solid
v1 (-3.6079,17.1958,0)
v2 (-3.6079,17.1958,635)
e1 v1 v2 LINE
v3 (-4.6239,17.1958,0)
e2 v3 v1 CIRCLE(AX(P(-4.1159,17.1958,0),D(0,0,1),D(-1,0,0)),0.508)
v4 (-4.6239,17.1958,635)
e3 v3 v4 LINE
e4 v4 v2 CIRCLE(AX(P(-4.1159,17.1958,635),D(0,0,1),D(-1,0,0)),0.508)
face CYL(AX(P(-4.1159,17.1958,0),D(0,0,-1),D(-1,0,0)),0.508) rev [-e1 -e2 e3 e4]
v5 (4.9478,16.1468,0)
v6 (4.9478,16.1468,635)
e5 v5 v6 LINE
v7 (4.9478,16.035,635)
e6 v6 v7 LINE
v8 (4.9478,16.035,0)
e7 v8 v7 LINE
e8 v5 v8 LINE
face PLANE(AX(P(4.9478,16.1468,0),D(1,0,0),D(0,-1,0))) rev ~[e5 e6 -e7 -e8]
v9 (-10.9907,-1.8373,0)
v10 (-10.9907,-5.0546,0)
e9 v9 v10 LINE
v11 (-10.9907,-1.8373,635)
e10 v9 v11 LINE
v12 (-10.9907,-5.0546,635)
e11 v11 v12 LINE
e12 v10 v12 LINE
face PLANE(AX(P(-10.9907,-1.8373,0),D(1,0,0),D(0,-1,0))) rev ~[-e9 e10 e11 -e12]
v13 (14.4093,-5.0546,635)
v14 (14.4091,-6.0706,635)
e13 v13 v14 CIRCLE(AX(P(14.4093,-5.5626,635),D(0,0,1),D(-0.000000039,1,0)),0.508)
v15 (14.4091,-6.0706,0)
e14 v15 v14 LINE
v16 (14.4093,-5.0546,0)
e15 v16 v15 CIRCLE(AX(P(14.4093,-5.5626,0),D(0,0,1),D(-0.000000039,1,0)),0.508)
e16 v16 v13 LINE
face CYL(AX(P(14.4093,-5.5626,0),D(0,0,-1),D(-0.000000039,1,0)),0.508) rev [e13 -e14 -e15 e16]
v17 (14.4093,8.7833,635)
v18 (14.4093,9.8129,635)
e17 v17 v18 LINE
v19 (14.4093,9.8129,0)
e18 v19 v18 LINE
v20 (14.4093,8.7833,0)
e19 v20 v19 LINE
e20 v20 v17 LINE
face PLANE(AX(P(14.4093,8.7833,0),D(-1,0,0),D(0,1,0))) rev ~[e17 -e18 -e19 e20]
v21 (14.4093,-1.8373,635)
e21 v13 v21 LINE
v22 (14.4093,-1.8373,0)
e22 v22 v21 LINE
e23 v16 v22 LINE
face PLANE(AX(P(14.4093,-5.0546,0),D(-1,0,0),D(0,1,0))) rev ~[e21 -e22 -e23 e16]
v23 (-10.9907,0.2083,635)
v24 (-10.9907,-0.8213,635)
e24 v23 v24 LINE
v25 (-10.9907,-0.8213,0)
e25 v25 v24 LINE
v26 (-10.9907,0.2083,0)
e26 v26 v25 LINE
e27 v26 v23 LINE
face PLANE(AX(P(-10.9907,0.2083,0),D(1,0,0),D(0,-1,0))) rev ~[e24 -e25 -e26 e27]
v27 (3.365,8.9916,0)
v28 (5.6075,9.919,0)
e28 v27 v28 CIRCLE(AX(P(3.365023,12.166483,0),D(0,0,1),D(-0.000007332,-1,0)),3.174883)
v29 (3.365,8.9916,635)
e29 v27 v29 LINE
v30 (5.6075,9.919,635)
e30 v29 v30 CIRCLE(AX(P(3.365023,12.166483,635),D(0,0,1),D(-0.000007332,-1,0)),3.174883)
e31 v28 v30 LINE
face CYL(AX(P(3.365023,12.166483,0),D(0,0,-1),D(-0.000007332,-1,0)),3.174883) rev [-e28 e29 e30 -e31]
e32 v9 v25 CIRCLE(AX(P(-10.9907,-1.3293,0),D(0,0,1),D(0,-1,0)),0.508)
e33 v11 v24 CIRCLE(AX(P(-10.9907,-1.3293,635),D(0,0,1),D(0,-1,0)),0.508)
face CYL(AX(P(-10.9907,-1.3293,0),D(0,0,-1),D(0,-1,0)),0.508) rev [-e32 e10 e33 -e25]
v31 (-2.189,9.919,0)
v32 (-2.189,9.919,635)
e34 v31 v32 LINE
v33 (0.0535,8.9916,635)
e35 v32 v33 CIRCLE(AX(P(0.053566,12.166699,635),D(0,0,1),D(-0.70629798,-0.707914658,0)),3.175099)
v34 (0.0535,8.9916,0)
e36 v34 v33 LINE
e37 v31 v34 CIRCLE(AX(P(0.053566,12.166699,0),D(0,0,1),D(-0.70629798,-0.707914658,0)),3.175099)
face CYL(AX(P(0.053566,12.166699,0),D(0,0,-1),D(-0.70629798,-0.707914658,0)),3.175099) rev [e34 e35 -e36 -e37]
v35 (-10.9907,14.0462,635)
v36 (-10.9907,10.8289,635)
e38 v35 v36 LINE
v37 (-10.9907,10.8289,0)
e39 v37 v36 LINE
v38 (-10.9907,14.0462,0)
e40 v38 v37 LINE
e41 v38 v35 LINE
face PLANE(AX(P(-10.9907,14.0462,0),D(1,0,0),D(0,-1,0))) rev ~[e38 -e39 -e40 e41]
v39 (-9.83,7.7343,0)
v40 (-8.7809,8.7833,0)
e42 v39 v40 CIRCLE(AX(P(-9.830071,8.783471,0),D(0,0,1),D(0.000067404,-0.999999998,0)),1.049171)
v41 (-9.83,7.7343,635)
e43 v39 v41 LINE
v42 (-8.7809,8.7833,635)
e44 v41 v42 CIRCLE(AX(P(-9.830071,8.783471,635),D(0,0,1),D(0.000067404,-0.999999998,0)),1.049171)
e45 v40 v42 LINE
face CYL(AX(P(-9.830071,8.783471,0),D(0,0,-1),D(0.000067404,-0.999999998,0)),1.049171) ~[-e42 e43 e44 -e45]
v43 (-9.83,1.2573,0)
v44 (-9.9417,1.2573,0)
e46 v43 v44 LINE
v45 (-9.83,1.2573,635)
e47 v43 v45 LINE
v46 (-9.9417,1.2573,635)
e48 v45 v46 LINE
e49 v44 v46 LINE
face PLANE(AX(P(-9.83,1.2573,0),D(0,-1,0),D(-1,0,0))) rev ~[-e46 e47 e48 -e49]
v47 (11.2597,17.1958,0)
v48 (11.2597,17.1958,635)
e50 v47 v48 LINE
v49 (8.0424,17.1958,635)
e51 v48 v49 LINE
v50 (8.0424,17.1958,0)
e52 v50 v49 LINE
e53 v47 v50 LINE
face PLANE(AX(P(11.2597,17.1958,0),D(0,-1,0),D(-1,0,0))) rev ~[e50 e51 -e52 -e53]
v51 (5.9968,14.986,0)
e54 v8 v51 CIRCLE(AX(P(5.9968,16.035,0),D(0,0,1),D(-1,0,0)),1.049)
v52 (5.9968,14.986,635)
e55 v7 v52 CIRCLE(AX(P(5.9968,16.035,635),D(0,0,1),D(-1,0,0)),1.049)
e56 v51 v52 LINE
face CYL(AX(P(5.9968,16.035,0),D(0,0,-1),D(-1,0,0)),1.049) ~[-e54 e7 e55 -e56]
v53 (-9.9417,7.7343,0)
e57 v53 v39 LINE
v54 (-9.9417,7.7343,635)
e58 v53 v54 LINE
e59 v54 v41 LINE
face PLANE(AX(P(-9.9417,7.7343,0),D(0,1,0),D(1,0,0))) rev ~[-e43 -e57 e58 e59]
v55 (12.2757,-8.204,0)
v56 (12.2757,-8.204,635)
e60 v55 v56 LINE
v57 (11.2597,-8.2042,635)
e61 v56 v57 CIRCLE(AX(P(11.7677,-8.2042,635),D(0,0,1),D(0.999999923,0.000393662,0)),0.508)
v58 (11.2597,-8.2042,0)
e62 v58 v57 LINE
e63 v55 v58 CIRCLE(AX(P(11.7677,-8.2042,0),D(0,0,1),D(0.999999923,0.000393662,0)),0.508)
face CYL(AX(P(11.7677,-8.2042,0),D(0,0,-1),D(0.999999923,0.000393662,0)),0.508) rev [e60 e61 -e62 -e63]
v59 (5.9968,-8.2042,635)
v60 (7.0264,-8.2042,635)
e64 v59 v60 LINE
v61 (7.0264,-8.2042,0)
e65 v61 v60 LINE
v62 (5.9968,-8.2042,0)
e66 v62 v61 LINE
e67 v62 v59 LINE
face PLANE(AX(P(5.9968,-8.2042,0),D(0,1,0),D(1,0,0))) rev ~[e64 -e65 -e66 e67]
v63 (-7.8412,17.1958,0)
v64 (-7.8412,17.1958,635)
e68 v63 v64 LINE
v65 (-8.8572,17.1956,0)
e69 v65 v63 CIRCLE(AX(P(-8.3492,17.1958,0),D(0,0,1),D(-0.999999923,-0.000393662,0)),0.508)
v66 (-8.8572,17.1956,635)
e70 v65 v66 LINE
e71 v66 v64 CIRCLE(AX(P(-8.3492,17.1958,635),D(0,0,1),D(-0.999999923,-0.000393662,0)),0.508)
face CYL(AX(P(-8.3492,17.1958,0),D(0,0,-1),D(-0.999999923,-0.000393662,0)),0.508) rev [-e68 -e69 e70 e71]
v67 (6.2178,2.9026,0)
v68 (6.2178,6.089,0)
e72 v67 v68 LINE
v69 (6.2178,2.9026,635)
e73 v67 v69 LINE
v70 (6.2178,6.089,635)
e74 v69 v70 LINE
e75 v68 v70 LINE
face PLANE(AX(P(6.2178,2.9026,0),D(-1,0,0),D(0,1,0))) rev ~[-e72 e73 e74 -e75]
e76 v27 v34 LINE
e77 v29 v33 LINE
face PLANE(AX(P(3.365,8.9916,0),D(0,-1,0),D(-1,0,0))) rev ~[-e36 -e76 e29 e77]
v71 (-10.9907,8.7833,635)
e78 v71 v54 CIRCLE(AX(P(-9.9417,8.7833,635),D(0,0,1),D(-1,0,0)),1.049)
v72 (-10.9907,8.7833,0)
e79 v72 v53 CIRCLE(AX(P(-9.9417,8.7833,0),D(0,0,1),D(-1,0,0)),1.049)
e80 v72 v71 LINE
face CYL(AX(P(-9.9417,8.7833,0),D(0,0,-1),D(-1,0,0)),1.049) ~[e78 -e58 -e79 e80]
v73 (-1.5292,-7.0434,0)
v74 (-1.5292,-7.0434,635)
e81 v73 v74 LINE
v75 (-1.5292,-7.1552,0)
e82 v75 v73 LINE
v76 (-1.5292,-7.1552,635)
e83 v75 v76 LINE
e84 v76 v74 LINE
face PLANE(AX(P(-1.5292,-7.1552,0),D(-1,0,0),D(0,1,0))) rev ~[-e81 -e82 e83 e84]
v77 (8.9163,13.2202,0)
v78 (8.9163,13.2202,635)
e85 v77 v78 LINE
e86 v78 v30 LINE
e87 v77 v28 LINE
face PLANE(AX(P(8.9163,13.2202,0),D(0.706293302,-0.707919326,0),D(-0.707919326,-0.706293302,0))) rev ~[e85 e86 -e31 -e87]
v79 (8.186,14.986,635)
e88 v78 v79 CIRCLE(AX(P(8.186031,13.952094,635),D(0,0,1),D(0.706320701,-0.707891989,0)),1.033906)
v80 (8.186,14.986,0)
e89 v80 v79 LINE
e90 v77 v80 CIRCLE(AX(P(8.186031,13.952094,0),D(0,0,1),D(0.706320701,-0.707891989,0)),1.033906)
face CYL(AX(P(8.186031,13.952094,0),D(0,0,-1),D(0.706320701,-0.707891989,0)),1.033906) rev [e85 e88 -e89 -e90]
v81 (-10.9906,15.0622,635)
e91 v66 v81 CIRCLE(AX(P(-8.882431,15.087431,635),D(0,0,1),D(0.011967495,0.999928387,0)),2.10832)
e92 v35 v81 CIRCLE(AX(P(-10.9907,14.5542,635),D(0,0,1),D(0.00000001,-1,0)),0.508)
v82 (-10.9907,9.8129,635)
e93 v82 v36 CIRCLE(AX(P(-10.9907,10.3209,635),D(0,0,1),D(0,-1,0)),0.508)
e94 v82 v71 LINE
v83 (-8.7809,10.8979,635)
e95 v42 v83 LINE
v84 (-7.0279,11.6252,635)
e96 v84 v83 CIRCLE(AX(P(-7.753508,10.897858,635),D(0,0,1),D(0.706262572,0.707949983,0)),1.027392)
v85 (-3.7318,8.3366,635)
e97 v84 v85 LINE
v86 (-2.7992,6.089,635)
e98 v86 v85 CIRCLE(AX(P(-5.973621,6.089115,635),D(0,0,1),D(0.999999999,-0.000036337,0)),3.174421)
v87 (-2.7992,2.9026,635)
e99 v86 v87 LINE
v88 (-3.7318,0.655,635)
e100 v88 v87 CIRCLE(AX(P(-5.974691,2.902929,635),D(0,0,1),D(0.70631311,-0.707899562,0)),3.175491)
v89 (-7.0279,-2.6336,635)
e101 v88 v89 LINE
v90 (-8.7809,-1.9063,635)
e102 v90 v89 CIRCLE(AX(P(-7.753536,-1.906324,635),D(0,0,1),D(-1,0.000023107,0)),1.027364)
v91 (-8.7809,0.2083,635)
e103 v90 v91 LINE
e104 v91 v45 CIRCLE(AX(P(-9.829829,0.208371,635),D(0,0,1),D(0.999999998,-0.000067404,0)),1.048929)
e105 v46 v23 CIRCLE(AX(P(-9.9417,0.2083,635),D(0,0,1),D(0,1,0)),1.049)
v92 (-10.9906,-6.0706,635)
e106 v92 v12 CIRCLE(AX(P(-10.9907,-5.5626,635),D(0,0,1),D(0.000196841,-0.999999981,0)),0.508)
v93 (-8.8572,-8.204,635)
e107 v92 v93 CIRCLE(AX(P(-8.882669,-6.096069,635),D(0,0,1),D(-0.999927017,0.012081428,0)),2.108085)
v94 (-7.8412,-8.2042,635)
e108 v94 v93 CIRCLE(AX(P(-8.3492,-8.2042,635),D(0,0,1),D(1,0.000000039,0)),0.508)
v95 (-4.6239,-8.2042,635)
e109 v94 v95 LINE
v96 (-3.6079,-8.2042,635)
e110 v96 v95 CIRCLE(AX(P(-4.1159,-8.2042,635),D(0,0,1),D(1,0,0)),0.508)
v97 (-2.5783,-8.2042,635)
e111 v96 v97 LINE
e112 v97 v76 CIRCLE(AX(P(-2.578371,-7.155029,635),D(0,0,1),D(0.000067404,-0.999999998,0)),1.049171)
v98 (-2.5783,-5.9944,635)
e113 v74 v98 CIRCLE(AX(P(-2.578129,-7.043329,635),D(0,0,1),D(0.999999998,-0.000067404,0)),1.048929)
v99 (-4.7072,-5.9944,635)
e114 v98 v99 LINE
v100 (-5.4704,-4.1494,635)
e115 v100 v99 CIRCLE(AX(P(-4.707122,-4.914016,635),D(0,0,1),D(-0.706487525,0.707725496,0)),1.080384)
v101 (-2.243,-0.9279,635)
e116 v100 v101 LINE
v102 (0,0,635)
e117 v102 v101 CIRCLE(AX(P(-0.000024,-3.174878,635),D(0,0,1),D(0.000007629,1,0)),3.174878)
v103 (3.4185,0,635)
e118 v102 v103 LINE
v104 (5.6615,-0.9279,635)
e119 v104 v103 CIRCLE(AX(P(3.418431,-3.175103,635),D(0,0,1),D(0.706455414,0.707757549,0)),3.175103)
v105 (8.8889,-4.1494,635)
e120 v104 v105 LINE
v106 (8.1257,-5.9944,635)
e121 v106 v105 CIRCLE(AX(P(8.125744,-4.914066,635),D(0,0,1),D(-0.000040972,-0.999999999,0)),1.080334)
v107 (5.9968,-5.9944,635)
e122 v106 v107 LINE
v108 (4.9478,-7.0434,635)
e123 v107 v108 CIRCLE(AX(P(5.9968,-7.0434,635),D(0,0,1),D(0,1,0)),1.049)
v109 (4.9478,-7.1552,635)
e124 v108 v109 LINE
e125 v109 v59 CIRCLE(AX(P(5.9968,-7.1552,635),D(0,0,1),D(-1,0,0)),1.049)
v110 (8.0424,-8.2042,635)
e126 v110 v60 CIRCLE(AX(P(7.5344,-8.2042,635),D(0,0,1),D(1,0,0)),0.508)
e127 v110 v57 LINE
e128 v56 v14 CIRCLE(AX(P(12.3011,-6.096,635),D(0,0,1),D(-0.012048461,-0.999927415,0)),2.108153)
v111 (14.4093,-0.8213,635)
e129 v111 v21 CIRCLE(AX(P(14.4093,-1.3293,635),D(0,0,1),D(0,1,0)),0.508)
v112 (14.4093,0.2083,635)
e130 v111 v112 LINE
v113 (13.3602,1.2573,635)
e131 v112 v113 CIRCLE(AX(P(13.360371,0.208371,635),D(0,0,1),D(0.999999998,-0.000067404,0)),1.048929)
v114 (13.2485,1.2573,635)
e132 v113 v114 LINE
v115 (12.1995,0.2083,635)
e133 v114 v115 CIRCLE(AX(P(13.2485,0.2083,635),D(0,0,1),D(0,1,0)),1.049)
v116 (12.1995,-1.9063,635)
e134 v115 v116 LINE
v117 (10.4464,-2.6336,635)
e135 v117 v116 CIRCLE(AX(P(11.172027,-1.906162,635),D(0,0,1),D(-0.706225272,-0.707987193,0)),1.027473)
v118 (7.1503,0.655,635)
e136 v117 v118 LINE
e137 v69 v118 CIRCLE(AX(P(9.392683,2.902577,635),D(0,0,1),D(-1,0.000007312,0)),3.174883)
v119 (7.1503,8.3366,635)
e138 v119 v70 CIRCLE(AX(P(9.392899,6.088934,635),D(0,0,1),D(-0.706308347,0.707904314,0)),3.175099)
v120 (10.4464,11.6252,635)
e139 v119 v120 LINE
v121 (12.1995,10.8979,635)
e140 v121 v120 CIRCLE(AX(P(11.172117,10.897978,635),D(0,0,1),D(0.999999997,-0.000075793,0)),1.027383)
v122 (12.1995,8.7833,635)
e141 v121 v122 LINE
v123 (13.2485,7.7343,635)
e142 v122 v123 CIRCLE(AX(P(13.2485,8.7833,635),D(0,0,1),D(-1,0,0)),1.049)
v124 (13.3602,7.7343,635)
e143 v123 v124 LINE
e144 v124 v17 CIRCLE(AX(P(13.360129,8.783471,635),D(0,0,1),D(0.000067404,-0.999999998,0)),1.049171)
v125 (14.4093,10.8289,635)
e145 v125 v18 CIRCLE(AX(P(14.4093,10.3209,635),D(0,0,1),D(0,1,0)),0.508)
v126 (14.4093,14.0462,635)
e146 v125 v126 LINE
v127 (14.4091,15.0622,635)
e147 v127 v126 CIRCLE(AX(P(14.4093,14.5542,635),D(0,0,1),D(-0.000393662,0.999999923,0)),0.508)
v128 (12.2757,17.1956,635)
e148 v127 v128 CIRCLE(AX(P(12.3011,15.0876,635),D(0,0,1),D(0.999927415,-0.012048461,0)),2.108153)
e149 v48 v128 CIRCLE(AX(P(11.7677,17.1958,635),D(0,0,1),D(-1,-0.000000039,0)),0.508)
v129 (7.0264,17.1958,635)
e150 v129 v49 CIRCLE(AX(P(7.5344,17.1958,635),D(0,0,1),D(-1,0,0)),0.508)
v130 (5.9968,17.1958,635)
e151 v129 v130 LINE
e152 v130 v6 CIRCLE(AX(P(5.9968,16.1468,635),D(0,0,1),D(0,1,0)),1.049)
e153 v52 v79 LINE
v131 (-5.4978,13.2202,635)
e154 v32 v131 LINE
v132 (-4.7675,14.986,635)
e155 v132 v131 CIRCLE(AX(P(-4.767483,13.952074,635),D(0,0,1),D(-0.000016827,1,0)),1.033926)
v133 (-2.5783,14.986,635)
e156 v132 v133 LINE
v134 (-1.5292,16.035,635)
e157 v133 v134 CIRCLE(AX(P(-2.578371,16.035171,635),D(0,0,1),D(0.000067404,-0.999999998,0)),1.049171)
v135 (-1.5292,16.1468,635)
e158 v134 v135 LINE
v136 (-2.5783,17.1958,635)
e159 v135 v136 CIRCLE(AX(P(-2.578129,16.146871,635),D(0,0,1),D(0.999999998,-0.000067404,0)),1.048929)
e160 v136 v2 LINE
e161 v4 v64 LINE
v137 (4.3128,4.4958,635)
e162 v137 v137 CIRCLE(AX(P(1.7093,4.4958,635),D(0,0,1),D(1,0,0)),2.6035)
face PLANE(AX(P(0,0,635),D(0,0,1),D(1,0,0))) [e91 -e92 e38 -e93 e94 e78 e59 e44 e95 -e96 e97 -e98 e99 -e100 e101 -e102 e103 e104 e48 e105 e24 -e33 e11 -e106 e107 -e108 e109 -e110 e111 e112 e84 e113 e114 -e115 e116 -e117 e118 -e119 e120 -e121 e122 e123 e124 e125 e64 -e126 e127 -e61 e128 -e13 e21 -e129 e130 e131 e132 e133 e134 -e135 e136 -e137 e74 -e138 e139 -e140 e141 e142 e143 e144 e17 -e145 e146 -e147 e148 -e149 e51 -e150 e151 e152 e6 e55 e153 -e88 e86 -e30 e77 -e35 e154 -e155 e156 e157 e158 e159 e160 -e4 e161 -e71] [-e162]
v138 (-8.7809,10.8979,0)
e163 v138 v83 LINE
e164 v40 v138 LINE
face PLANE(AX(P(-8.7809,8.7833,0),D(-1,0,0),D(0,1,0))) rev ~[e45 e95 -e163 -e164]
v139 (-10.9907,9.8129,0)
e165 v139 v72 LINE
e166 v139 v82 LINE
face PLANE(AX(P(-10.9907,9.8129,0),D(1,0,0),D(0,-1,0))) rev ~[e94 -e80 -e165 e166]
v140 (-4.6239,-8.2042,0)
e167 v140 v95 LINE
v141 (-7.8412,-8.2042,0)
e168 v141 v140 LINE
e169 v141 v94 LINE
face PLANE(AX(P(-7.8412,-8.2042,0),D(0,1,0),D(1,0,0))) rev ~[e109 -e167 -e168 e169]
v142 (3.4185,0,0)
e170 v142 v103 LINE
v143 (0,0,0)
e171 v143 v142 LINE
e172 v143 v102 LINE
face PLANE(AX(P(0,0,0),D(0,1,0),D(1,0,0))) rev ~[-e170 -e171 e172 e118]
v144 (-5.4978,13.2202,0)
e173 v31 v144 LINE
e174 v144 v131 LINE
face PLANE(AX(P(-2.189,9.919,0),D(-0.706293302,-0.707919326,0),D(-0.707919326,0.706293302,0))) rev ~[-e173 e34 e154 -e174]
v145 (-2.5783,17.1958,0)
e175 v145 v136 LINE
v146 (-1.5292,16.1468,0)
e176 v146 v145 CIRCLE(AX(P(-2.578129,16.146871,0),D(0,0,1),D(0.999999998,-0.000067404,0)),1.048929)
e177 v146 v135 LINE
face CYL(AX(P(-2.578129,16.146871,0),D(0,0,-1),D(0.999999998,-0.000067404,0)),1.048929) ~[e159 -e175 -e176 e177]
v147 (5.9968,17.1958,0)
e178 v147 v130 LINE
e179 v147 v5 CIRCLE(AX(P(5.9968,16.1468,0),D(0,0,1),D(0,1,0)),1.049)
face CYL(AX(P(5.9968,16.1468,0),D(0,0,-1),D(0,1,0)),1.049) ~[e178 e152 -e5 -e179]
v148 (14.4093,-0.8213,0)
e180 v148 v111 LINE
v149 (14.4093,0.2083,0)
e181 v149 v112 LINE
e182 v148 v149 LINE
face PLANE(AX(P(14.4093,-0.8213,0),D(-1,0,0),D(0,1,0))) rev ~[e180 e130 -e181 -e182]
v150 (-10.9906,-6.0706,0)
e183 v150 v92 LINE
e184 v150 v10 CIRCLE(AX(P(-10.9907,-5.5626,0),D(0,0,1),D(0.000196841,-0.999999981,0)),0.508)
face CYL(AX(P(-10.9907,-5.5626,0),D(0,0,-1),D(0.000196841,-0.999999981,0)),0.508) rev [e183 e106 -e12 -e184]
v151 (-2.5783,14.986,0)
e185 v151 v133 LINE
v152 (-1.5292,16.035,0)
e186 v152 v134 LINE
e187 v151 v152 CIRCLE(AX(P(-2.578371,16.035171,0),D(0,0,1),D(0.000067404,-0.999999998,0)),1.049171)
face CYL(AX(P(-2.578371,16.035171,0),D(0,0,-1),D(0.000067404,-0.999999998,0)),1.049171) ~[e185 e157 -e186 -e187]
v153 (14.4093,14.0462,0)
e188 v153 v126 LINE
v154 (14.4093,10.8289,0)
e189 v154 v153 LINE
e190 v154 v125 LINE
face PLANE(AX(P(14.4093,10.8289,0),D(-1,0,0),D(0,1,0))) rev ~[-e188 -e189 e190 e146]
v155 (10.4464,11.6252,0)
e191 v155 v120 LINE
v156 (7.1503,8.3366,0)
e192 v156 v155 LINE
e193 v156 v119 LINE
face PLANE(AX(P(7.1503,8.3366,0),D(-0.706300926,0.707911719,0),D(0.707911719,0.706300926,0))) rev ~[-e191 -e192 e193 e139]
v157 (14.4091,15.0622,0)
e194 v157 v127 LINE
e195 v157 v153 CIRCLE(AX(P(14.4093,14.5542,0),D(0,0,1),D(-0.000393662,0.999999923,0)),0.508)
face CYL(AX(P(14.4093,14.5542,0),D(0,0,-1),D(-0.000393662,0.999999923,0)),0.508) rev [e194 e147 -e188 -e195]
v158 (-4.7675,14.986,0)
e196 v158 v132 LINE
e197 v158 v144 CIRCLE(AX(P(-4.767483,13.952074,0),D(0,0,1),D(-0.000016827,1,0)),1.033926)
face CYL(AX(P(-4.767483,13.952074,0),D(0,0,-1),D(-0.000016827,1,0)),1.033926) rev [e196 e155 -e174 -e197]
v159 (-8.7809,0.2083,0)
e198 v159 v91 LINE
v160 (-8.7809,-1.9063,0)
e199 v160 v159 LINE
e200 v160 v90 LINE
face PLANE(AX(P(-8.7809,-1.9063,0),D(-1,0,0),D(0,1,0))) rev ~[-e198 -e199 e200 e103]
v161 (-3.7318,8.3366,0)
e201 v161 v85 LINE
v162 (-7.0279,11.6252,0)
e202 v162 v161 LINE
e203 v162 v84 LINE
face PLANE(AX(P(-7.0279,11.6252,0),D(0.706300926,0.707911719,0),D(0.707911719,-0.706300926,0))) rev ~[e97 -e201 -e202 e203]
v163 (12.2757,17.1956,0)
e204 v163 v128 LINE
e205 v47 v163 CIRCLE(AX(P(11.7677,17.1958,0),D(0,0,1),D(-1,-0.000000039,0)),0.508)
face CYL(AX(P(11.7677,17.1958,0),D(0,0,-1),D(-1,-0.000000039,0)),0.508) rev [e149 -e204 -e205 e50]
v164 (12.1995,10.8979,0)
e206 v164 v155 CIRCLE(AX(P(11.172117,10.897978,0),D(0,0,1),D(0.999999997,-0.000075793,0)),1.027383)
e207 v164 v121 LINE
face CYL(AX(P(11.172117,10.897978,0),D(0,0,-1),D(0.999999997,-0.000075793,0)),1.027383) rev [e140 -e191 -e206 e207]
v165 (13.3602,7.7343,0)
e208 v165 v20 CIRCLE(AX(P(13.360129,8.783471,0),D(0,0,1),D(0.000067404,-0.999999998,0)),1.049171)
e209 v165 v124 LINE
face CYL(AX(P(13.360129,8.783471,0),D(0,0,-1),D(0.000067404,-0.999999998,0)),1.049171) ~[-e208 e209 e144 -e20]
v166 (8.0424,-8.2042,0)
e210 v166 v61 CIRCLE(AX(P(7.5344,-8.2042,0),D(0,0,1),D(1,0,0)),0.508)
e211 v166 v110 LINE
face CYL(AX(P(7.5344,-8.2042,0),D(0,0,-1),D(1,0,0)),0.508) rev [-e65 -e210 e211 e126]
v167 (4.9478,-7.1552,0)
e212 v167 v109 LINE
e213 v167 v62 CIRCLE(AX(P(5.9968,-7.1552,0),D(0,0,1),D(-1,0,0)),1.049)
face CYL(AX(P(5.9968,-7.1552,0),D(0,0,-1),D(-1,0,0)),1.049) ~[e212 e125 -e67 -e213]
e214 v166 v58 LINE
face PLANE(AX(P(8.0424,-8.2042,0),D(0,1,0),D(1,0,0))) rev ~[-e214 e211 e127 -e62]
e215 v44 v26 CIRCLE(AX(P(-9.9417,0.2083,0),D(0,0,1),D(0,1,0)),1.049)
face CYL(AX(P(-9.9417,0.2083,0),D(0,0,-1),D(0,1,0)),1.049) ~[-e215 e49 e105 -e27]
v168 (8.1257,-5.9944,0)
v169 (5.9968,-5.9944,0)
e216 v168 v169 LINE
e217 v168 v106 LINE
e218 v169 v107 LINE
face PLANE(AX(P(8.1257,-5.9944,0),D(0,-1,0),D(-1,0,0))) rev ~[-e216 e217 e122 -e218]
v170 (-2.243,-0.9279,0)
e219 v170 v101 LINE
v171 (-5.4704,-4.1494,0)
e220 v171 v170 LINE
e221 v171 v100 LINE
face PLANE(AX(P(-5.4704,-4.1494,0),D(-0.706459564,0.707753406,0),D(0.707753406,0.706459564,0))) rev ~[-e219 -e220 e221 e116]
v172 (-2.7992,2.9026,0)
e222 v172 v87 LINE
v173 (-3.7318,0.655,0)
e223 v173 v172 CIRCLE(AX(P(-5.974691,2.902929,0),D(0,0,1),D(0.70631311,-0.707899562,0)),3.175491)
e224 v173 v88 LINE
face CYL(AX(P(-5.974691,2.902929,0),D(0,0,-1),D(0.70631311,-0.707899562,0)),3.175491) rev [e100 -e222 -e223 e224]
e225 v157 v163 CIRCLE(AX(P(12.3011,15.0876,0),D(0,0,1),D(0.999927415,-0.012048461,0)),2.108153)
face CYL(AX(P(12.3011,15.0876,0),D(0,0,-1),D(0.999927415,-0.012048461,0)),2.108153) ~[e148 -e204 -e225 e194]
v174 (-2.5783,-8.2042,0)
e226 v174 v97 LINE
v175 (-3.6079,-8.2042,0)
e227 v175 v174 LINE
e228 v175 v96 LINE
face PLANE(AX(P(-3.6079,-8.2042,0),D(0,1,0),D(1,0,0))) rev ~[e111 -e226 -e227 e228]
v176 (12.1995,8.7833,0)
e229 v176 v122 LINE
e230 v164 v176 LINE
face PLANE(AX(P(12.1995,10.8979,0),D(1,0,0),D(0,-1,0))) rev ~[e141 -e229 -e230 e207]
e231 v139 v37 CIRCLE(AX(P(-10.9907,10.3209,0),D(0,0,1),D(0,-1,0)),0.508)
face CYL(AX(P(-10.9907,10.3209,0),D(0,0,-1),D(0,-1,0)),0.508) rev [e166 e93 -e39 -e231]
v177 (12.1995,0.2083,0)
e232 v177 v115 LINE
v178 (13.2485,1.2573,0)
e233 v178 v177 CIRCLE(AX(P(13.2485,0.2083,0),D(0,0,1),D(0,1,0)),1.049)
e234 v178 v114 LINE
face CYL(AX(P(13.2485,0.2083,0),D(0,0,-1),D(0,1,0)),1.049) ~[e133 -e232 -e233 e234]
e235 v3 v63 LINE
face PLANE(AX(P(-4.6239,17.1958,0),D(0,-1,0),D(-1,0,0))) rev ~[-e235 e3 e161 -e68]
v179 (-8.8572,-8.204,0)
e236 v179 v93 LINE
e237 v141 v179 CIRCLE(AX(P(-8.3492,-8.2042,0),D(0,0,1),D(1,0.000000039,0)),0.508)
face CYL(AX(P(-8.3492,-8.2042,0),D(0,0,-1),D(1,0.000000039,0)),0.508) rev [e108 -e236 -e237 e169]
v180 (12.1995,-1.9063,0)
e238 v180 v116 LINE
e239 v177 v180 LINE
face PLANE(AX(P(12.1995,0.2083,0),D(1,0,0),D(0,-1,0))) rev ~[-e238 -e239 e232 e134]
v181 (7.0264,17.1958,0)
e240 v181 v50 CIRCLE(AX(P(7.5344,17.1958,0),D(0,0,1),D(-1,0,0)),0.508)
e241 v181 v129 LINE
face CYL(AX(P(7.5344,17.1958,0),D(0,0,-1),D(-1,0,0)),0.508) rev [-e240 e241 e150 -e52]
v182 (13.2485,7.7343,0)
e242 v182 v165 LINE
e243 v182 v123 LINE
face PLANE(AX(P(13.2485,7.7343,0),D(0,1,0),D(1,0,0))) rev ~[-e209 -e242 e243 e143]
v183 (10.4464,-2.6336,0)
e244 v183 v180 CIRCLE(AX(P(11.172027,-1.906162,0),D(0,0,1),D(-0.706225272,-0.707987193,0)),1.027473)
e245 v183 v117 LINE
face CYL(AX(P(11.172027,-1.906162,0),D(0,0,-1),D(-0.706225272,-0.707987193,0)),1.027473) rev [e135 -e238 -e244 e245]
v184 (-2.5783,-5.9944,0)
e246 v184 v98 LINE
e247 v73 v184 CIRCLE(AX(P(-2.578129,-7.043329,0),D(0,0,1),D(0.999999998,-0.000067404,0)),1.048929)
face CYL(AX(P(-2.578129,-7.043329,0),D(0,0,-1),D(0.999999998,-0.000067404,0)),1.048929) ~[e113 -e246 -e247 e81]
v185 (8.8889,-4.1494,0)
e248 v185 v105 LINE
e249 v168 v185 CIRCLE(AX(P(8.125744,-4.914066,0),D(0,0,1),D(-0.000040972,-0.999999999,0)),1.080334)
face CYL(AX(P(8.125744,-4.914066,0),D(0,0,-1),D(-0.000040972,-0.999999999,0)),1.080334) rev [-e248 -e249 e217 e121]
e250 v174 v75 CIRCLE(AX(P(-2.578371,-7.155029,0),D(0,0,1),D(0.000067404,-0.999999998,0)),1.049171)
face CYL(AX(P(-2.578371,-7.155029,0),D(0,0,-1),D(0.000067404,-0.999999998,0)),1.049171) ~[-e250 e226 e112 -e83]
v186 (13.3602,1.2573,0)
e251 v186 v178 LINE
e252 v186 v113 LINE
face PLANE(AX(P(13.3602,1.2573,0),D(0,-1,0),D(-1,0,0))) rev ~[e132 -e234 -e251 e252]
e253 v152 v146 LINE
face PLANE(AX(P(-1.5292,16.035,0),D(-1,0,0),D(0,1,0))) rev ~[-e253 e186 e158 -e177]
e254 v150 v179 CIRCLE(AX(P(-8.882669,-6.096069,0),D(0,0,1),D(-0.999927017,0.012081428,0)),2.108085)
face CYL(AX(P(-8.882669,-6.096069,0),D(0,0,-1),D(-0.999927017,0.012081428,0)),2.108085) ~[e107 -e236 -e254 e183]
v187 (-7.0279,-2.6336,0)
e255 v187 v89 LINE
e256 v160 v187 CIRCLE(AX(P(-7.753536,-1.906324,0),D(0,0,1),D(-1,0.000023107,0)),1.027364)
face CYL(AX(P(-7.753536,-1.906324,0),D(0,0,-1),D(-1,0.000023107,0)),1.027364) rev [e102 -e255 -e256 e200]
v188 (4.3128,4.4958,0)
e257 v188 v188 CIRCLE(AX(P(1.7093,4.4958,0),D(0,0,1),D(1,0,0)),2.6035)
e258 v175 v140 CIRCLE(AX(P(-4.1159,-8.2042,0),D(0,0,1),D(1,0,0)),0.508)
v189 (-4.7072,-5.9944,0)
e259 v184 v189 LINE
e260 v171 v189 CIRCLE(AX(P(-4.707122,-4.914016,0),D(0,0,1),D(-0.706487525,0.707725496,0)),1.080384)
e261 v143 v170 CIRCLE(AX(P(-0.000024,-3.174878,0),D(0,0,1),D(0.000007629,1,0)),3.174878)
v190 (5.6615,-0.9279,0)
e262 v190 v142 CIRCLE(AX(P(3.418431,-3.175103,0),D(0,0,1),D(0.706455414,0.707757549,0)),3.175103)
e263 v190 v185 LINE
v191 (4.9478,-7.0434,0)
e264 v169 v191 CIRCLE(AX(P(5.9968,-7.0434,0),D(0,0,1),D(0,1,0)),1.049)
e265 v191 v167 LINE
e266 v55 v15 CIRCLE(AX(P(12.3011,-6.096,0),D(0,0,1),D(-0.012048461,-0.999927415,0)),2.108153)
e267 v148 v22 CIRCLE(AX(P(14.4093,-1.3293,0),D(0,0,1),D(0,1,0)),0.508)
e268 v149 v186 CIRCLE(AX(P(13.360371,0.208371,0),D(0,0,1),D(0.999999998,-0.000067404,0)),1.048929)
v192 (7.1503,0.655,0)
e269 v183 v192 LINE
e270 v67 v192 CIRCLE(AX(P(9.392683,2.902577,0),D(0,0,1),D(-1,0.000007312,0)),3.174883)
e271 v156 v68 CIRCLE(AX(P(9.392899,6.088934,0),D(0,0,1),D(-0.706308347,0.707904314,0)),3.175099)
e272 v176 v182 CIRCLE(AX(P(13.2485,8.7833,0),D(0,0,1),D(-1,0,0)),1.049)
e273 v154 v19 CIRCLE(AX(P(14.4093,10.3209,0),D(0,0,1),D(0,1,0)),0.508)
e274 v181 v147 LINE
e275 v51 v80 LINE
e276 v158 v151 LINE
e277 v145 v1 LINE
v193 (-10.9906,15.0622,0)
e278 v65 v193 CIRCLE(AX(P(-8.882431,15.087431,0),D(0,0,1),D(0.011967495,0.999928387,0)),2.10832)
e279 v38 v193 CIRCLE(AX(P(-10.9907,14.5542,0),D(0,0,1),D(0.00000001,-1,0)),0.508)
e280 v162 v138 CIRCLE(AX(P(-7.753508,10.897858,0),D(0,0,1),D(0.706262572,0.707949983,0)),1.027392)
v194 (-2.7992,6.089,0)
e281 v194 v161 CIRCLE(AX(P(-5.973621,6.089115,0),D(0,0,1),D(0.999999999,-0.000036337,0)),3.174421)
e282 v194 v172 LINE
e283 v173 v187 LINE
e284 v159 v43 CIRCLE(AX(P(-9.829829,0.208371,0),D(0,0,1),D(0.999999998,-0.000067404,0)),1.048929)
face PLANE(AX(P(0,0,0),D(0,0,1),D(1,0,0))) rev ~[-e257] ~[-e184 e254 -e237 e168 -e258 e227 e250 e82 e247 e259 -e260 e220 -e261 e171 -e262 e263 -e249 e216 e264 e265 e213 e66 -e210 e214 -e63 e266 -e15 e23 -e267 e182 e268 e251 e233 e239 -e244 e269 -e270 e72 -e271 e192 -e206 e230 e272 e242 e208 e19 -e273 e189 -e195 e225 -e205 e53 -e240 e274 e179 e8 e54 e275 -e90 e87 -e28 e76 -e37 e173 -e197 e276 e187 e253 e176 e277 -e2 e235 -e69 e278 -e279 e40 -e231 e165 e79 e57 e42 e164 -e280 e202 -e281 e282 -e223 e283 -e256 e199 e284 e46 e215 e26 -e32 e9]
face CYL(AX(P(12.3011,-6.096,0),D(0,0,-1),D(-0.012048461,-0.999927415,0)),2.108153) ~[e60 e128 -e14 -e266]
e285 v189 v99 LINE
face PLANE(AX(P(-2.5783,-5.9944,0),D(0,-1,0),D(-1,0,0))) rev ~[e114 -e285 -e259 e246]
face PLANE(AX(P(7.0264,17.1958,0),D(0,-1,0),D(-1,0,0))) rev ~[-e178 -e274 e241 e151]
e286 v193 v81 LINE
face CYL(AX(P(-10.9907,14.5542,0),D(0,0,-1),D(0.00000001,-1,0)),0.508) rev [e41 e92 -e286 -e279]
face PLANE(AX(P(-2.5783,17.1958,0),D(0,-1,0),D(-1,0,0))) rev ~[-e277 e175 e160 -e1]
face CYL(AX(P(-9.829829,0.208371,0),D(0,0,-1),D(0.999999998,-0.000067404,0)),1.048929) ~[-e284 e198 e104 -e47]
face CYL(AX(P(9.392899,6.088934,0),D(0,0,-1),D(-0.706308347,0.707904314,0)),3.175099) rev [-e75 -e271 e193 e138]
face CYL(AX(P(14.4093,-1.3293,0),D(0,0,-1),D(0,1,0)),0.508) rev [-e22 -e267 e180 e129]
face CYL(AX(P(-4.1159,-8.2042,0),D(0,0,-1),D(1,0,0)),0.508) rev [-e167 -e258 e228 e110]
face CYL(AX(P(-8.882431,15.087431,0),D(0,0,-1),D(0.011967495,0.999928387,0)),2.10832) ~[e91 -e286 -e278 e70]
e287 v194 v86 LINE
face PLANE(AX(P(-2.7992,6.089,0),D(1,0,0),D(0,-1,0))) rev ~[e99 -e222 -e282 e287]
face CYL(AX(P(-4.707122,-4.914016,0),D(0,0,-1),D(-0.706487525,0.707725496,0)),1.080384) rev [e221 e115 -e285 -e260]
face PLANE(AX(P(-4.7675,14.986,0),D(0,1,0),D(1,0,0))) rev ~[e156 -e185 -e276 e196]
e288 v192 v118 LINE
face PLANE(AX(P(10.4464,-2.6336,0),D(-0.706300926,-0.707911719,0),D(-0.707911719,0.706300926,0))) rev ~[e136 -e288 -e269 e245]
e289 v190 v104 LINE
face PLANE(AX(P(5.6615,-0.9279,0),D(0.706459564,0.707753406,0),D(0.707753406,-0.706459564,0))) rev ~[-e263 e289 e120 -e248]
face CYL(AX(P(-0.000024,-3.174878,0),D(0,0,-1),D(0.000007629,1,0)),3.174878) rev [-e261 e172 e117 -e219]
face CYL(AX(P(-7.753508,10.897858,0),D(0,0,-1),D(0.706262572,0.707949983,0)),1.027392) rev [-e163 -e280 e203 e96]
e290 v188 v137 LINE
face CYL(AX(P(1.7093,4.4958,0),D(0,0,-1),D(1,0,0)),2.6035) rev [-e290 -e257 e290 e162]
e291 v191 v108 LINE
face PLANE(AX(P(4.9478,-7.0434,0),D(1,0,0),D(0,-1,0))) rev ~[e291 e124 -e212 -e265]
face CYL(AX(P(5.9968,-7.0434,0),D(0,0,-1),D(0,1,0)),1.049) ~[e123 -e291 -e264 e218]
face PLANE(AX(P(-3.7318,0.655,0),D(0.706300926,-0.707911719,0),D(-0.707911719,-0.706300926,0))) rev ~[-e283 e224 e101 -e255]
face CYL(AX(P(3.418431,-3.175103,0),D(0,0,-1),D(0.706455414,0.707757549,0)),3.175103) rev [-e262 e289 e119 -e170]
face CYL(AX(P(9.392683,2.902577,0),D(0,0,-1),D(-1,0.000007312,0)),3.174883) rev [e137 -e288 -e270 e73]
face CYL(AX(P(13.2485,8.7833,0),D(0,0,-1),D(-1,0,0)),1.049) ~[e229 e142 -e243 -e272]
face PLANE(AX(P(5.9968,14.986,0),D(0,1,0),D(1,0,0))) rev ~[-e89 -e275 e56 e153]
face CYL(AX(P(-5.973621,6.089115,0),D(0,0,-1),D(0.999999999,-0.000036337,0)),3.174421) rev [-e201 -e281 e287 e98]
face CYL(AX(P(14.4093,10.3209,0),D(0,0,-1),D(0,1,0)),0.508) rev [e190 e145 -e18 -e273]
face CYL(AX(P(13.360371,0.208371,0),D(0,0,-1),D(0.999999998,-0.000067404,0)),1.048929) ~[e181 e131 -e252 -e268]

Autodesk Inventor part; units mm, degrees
ref_plane "YZ Plane" through (0, 0, 0) normal (1, 0, 0) x (0, 1, 0)
ref_plane "XZ Plane" through (0, 0, 0) normal (0, 1, 0) x (-1, 0, 0)
ref_plane "XY Plane" through (0, 0, 0) normal (0, 0, 1) x (1, 0, 0)
sketch "Sketch1" plane through (0, 0, 0) normal (0, 0, 1) x (1, 0, 0)
  arc A0 (-5.4704, -4.1494) -> (-4.7072, -5.9944) centre (-4.7072, -4.914) ccw
  line L0 (-5.4704, -4.1494) -> (-2.243, -0.9279)
  arc A1 (0, 0) -> (-2.243, -0.9279) centre (0, -3.175) ccw
  line L1 (0, 0) -> (3.4185, 0)
  arc A2 (5.6615, -0.9279) -> (3.4185, 0) centre (3.4185, -3.175) ccw
  line L2 (5.6615, -0.9279) -> (8.8889, -4.1494)
  arc A3 (8.1257, -5.9944) -> (8.8889, -4.1494) centre (8.1257, -4.914) ccw
  line L3 (8.1257, -5.9944) -> (5.9968, -5.9944)
  arc A4 (5.9968, -5.9944) -> (4.9478, -7.0434) centre (5.9968, -7.0434) ccw
  line L4 (4.9478, -7.0434) -> (4.9478, -7.1552)
  arc A5 (4.9478, -7.1552) -> (5.9968, -8.2042) centre (5.9968, -7.1552) ccw
  line L5 (5.9968, -8.2042) -> (7.0264, -8.2042)
  arc A6 (8.0424, -8.2042) -> (7.0264, -8.2042) centre (7.5344, -8.2042) ccw
  line L6 (8.0424, -8.2042) -> (11.2597, -8.2042)
  arc A7 (12.2757, -8.204) -> (11.2597, -8.2042) centre (11.7677, -8.2042) ccw
  arc A8 (12.2757, -8.204) -> (14.4091, -6.0706) centre (12.3011, -6.096) ccw
  arc A9 (14.4093, -5.0546) -> (14.4091, -6.0706) centre (14.4093, -5.5626) ccw
  line L7 (14.4093, -5.0546) -> (14.4093, -1.8373)
  arc A10 (14.4093, -0.8213) -> (14.4093, -1.8373) centre (14.4093, -1.3293) ccw
  line L8 (14.4093, -0.8213) -> (14.4093, 0.2083)
  arc A11 (14.4093, 0.2083) -> (13.3602, 1.2573) centre (13.3602, 0.2083) ccw
  line L9 (13.3602, 1.2573) -> (13.2485, 1.2573)
  arc A12 (13.2485, 1.2573) -> (12.1995, 0.2083) centre (13.2485, 0.2083) ccw
  line L10 (12.1995, 0.2083) -> (12.1995, -1.9063)
  arc A13 (10.4464, -2.6336) -> (12.1995, -1.9063) centre (11.172, -1.9063) ccw
  line L11 (10.4464, -2.6336) -> (7.1503, 0.655)
  arc A14 (6.2178, 2.9026) -> (7.1503, 0.655) centre (9.3928, 2.9026) ccw
  line L12 (6.2178, 2.9026) -> (6.2178, 6.089)
  arc A15 (7.1503, 8.3366) -> (6.2178, 6.089) centre (9.3928, 6.089) ccw
  line L13 (7.1503, 8.3366) -> (10.4464, 11.6252)
  arc A16 (12.1995, 10.8979) -> (10.4464, 11.6252) centre (11.172, 10.8979) ccw
  line L14 (12.1995, 10.8979) -> (12.1995, 8.7833)
  arc A17 (12.1995, 8.7833) -> (13.2485, 7.7343) centre (13.2485, 8.7833) ccw
  line L15 (13.2485, 7.7343) -> (13.3602, 7.7343)
  arc A18 (13.3602, 7.7343) -> (14.4093, 8.7833) centre (13.3602, 8.7833) ccw
  line L16 (14.4093, 8.7833) -> (14.4093, 9.8129)
  arc A19 (14.4093, 10.8289) -> (14.4093, 9.8129) centre (14.4093, 10.3209) ccw
  line L17 (14.4093, 10.8289) -> (14.4093, 14.0462)
  arc A20 (14.4091, 15.0622) -> (14.4093, 14.0462) centre (14.4093, 14.5542) ccw
  arc A21 (14.4091, 15.0622) -> (12.2757, 17.1956) centre (12.3011, 15.0876) ccw
  arc A22 (11.2597, 17.1958) -> (12.2757, 17.1956) centre (11.7677, 17.1958) ccw
  line L18 (11.2597, 17.1958) -> (8.0424, 17.1958)
  arc A23 (7.0264, 17.1958) -> (8.0424, 17.1958) centre (7.5344, 17.1958) ccw
  line L19 (7.0264, 17.1958) -> (5.9968, 17.1958)
  arc A24 (5.9968, 17.1958) -> (4.9478, 16.1468) centre (5.9968, 16.1468) ccw
  line L20 (4.9478, 16.1468) -> (4.9478, 16.035)
  arc A25 (4.9478, 16.035) -> (5.9968, 14.986) centre (5.9968, 16.035) ccw
  line L21 (5.9968, 14.986) -> (8.186, 14.986)
  arc A26 (8.9163, 13.2202) -> (8.186, 14.986) centre (8.186, 13.9521) ccw
  line L22 (8.9163, 13.2202) -> (5.6075, 9.919)
  arc A27 (3.365, 8.9916) -> (5.6075, 9.919) centre (3.365, 12.1666) ccw
  line L23 (3.365, 8.9916) -> (0.0535, 8.9916)
  arc A28 (-2.189, 9.919) -> (0.0535, 8.9916) centre (0.0535, 12.1666) ccw
  line L24 (-2.189, 9.919) -> (-5.4978, 13.2202)
  arc A29 (-4.7675, 14.986) -> (-5.4978, 13.2202) centre (-4.7675, 13.9521) ccw
  line L25 (-4.7675, 14.986) -> (-2.5783, 14.986)
  arc A30 (-2.5783, 14.986) -> (-1.5292, 16.035) centre (-2.5783, 16.035) ccw
  line L26 (-1.5292, 16.035) -> (-1.5292, 16.1468)
  arc A31 (-1.5292, 16.1468) -> (-2.5783, 17.1958) centre (-2.5783, 16.1468) ccw
  line L27 (-2.5783, 17.1958) -> (-3.6079, 17.1958)
  arc A32 (-4.6239, 17.1958) -> (-3.6079, 17.1958) centre (-4.1159, 17.1958) ccw
  line L28 (-4.6239, 17.1958) -> (-7.8412, 17.1958)
  arc A33 (-8.8572, 17.1956) -> (-7.8412, 17.1958) centre (-8.3492, 17.1958) ccw
  arc A34 (-8.8572, 17.1956) -> (-10.9906, 15.0622) centre (-8.8825, 15.0876) ccw
  arc A35 (-10.9907, 14.0462) -> (-10.9906, 15.0622) centre (-10.9907, 14.5542) ccw
  line L29 (-10.9907, 14.0462) -> (-10.9907, 10.8289)
  arc A36 (-10.9907, 9.8129) -> (-10.9907, 10.8289) centre (-10.9907, 10.3209) ccw
  line L30 (-10.9907, 9.8129) -> (-10.9907, 8.7833)
  arc A37 (-10.9907, 8.7833) -> (-9.9417, 7.7343) centre (-9.9417, 8.7833) ccw
  line L31 (-9.9417, 7.7343) -> (-9.83, 7.7343)
  arc A38 (-9.83, 7.7343) -> (-8.7809, 8.7833) centre (-9.83, 8.7833) ccw
  line L32 (-8.7809, 8.7833) -> (-8.7809, 10.8979)
  arc A39 (-7.0279, 11.6252) -> (-8.7809, 10.8979) centre (-7.7535, 10.8979) ccw
  line L33 (-7.0279, 11.6252) -> (-3.7318, 8.3366)
  arc A40 (-2.7992, 6.089) -> (-3.7318, 8.3366) centre (-5.9742, 6.089) ccw
  line L34 (-2.7992, 6.089) -> (-2.7992, 2.9026)
  arc A41 (-3.7318, 0.655) -> (-2.7992, 2.9026) centre (-5.9742, 2.9026) ccw
  line L35 (-3.7318, 0.655) -> (-7.0279, -2.6336)
  arc A42 (-8.7809, -1.9063) -> (-7.0279, -2.6336) centre (-7.7535, -1.9063) ccw
  line L36 (-8.7809, -1.9063) -> (-8.7809, 0.2083)
  arc A43 (-8.7809, 0.2083) -> (-9.83, 1.2573) centre (-9.83, 0.2083) ccw
  line L37 (-9.83, 1.2573) -> (-9.9417, 1.2573)
  arc A44 (-9.9417, 1.2573) -> (-10.9907, 0.2083) centre (-9.9417, 0.2083) ccw
  line L38 (-10.9907, 0.2083) -> (-10.9907, -0.8213)
  arc A45 (-10.9907, -1.8373) -> (-10.9907, -0.8213) centre (-10.9907, -1.3293) ccw
  line L39 (-10.9907, -1.8373) -> (-10.9907, -5.0546)
  arc A46 (-10.9906, -6.0706) -> (-10.9907, -5.0546) centre (-10.9907, -5.5626) ccw
  arc A47 (-10.9906, -6.0706) -> (-8.8572, -8.204) centre (-8.8825, -6.096) ccw
  arc A48 (-7.8412, -8.2042) -> (-8.8572, -8.204) centre (-8.3492, -8.2042) ccw
  line L40 (-7.8412, -8.2042) -> (-4.6239, -8.2042)
  arc A49 (-3.6079, -8.2042) -> (-4.6239, -8.2042) centre (-4.1159, -8.2042) ccw
  line L41 (-3.6079, -8.2042) -> (-2.5783, -8.2042)
  arc A50 (-2.5783, -8.2042) -> (-1.5292, -7.1552) centre (-2.5783, -7.1552) ccw
  line L42 (-1.5292, -7.1552) -> (-1.5292, -7.0434)
  arc A51 (-1.5292, -7.0434) -> (-2.5783, -5.9944) centre (-2.5783, -7.0434) ccw
  line L43 (-2.5783, -5.9944) -> (-4.7072, -5.9944)
  circle A52 centre (1.7093, 4.4958) radius 2.6035
extrude "Extrusion1" add sketch "Sketch1" along normal blind 635
properties part number "25in 1x1 T slot"
